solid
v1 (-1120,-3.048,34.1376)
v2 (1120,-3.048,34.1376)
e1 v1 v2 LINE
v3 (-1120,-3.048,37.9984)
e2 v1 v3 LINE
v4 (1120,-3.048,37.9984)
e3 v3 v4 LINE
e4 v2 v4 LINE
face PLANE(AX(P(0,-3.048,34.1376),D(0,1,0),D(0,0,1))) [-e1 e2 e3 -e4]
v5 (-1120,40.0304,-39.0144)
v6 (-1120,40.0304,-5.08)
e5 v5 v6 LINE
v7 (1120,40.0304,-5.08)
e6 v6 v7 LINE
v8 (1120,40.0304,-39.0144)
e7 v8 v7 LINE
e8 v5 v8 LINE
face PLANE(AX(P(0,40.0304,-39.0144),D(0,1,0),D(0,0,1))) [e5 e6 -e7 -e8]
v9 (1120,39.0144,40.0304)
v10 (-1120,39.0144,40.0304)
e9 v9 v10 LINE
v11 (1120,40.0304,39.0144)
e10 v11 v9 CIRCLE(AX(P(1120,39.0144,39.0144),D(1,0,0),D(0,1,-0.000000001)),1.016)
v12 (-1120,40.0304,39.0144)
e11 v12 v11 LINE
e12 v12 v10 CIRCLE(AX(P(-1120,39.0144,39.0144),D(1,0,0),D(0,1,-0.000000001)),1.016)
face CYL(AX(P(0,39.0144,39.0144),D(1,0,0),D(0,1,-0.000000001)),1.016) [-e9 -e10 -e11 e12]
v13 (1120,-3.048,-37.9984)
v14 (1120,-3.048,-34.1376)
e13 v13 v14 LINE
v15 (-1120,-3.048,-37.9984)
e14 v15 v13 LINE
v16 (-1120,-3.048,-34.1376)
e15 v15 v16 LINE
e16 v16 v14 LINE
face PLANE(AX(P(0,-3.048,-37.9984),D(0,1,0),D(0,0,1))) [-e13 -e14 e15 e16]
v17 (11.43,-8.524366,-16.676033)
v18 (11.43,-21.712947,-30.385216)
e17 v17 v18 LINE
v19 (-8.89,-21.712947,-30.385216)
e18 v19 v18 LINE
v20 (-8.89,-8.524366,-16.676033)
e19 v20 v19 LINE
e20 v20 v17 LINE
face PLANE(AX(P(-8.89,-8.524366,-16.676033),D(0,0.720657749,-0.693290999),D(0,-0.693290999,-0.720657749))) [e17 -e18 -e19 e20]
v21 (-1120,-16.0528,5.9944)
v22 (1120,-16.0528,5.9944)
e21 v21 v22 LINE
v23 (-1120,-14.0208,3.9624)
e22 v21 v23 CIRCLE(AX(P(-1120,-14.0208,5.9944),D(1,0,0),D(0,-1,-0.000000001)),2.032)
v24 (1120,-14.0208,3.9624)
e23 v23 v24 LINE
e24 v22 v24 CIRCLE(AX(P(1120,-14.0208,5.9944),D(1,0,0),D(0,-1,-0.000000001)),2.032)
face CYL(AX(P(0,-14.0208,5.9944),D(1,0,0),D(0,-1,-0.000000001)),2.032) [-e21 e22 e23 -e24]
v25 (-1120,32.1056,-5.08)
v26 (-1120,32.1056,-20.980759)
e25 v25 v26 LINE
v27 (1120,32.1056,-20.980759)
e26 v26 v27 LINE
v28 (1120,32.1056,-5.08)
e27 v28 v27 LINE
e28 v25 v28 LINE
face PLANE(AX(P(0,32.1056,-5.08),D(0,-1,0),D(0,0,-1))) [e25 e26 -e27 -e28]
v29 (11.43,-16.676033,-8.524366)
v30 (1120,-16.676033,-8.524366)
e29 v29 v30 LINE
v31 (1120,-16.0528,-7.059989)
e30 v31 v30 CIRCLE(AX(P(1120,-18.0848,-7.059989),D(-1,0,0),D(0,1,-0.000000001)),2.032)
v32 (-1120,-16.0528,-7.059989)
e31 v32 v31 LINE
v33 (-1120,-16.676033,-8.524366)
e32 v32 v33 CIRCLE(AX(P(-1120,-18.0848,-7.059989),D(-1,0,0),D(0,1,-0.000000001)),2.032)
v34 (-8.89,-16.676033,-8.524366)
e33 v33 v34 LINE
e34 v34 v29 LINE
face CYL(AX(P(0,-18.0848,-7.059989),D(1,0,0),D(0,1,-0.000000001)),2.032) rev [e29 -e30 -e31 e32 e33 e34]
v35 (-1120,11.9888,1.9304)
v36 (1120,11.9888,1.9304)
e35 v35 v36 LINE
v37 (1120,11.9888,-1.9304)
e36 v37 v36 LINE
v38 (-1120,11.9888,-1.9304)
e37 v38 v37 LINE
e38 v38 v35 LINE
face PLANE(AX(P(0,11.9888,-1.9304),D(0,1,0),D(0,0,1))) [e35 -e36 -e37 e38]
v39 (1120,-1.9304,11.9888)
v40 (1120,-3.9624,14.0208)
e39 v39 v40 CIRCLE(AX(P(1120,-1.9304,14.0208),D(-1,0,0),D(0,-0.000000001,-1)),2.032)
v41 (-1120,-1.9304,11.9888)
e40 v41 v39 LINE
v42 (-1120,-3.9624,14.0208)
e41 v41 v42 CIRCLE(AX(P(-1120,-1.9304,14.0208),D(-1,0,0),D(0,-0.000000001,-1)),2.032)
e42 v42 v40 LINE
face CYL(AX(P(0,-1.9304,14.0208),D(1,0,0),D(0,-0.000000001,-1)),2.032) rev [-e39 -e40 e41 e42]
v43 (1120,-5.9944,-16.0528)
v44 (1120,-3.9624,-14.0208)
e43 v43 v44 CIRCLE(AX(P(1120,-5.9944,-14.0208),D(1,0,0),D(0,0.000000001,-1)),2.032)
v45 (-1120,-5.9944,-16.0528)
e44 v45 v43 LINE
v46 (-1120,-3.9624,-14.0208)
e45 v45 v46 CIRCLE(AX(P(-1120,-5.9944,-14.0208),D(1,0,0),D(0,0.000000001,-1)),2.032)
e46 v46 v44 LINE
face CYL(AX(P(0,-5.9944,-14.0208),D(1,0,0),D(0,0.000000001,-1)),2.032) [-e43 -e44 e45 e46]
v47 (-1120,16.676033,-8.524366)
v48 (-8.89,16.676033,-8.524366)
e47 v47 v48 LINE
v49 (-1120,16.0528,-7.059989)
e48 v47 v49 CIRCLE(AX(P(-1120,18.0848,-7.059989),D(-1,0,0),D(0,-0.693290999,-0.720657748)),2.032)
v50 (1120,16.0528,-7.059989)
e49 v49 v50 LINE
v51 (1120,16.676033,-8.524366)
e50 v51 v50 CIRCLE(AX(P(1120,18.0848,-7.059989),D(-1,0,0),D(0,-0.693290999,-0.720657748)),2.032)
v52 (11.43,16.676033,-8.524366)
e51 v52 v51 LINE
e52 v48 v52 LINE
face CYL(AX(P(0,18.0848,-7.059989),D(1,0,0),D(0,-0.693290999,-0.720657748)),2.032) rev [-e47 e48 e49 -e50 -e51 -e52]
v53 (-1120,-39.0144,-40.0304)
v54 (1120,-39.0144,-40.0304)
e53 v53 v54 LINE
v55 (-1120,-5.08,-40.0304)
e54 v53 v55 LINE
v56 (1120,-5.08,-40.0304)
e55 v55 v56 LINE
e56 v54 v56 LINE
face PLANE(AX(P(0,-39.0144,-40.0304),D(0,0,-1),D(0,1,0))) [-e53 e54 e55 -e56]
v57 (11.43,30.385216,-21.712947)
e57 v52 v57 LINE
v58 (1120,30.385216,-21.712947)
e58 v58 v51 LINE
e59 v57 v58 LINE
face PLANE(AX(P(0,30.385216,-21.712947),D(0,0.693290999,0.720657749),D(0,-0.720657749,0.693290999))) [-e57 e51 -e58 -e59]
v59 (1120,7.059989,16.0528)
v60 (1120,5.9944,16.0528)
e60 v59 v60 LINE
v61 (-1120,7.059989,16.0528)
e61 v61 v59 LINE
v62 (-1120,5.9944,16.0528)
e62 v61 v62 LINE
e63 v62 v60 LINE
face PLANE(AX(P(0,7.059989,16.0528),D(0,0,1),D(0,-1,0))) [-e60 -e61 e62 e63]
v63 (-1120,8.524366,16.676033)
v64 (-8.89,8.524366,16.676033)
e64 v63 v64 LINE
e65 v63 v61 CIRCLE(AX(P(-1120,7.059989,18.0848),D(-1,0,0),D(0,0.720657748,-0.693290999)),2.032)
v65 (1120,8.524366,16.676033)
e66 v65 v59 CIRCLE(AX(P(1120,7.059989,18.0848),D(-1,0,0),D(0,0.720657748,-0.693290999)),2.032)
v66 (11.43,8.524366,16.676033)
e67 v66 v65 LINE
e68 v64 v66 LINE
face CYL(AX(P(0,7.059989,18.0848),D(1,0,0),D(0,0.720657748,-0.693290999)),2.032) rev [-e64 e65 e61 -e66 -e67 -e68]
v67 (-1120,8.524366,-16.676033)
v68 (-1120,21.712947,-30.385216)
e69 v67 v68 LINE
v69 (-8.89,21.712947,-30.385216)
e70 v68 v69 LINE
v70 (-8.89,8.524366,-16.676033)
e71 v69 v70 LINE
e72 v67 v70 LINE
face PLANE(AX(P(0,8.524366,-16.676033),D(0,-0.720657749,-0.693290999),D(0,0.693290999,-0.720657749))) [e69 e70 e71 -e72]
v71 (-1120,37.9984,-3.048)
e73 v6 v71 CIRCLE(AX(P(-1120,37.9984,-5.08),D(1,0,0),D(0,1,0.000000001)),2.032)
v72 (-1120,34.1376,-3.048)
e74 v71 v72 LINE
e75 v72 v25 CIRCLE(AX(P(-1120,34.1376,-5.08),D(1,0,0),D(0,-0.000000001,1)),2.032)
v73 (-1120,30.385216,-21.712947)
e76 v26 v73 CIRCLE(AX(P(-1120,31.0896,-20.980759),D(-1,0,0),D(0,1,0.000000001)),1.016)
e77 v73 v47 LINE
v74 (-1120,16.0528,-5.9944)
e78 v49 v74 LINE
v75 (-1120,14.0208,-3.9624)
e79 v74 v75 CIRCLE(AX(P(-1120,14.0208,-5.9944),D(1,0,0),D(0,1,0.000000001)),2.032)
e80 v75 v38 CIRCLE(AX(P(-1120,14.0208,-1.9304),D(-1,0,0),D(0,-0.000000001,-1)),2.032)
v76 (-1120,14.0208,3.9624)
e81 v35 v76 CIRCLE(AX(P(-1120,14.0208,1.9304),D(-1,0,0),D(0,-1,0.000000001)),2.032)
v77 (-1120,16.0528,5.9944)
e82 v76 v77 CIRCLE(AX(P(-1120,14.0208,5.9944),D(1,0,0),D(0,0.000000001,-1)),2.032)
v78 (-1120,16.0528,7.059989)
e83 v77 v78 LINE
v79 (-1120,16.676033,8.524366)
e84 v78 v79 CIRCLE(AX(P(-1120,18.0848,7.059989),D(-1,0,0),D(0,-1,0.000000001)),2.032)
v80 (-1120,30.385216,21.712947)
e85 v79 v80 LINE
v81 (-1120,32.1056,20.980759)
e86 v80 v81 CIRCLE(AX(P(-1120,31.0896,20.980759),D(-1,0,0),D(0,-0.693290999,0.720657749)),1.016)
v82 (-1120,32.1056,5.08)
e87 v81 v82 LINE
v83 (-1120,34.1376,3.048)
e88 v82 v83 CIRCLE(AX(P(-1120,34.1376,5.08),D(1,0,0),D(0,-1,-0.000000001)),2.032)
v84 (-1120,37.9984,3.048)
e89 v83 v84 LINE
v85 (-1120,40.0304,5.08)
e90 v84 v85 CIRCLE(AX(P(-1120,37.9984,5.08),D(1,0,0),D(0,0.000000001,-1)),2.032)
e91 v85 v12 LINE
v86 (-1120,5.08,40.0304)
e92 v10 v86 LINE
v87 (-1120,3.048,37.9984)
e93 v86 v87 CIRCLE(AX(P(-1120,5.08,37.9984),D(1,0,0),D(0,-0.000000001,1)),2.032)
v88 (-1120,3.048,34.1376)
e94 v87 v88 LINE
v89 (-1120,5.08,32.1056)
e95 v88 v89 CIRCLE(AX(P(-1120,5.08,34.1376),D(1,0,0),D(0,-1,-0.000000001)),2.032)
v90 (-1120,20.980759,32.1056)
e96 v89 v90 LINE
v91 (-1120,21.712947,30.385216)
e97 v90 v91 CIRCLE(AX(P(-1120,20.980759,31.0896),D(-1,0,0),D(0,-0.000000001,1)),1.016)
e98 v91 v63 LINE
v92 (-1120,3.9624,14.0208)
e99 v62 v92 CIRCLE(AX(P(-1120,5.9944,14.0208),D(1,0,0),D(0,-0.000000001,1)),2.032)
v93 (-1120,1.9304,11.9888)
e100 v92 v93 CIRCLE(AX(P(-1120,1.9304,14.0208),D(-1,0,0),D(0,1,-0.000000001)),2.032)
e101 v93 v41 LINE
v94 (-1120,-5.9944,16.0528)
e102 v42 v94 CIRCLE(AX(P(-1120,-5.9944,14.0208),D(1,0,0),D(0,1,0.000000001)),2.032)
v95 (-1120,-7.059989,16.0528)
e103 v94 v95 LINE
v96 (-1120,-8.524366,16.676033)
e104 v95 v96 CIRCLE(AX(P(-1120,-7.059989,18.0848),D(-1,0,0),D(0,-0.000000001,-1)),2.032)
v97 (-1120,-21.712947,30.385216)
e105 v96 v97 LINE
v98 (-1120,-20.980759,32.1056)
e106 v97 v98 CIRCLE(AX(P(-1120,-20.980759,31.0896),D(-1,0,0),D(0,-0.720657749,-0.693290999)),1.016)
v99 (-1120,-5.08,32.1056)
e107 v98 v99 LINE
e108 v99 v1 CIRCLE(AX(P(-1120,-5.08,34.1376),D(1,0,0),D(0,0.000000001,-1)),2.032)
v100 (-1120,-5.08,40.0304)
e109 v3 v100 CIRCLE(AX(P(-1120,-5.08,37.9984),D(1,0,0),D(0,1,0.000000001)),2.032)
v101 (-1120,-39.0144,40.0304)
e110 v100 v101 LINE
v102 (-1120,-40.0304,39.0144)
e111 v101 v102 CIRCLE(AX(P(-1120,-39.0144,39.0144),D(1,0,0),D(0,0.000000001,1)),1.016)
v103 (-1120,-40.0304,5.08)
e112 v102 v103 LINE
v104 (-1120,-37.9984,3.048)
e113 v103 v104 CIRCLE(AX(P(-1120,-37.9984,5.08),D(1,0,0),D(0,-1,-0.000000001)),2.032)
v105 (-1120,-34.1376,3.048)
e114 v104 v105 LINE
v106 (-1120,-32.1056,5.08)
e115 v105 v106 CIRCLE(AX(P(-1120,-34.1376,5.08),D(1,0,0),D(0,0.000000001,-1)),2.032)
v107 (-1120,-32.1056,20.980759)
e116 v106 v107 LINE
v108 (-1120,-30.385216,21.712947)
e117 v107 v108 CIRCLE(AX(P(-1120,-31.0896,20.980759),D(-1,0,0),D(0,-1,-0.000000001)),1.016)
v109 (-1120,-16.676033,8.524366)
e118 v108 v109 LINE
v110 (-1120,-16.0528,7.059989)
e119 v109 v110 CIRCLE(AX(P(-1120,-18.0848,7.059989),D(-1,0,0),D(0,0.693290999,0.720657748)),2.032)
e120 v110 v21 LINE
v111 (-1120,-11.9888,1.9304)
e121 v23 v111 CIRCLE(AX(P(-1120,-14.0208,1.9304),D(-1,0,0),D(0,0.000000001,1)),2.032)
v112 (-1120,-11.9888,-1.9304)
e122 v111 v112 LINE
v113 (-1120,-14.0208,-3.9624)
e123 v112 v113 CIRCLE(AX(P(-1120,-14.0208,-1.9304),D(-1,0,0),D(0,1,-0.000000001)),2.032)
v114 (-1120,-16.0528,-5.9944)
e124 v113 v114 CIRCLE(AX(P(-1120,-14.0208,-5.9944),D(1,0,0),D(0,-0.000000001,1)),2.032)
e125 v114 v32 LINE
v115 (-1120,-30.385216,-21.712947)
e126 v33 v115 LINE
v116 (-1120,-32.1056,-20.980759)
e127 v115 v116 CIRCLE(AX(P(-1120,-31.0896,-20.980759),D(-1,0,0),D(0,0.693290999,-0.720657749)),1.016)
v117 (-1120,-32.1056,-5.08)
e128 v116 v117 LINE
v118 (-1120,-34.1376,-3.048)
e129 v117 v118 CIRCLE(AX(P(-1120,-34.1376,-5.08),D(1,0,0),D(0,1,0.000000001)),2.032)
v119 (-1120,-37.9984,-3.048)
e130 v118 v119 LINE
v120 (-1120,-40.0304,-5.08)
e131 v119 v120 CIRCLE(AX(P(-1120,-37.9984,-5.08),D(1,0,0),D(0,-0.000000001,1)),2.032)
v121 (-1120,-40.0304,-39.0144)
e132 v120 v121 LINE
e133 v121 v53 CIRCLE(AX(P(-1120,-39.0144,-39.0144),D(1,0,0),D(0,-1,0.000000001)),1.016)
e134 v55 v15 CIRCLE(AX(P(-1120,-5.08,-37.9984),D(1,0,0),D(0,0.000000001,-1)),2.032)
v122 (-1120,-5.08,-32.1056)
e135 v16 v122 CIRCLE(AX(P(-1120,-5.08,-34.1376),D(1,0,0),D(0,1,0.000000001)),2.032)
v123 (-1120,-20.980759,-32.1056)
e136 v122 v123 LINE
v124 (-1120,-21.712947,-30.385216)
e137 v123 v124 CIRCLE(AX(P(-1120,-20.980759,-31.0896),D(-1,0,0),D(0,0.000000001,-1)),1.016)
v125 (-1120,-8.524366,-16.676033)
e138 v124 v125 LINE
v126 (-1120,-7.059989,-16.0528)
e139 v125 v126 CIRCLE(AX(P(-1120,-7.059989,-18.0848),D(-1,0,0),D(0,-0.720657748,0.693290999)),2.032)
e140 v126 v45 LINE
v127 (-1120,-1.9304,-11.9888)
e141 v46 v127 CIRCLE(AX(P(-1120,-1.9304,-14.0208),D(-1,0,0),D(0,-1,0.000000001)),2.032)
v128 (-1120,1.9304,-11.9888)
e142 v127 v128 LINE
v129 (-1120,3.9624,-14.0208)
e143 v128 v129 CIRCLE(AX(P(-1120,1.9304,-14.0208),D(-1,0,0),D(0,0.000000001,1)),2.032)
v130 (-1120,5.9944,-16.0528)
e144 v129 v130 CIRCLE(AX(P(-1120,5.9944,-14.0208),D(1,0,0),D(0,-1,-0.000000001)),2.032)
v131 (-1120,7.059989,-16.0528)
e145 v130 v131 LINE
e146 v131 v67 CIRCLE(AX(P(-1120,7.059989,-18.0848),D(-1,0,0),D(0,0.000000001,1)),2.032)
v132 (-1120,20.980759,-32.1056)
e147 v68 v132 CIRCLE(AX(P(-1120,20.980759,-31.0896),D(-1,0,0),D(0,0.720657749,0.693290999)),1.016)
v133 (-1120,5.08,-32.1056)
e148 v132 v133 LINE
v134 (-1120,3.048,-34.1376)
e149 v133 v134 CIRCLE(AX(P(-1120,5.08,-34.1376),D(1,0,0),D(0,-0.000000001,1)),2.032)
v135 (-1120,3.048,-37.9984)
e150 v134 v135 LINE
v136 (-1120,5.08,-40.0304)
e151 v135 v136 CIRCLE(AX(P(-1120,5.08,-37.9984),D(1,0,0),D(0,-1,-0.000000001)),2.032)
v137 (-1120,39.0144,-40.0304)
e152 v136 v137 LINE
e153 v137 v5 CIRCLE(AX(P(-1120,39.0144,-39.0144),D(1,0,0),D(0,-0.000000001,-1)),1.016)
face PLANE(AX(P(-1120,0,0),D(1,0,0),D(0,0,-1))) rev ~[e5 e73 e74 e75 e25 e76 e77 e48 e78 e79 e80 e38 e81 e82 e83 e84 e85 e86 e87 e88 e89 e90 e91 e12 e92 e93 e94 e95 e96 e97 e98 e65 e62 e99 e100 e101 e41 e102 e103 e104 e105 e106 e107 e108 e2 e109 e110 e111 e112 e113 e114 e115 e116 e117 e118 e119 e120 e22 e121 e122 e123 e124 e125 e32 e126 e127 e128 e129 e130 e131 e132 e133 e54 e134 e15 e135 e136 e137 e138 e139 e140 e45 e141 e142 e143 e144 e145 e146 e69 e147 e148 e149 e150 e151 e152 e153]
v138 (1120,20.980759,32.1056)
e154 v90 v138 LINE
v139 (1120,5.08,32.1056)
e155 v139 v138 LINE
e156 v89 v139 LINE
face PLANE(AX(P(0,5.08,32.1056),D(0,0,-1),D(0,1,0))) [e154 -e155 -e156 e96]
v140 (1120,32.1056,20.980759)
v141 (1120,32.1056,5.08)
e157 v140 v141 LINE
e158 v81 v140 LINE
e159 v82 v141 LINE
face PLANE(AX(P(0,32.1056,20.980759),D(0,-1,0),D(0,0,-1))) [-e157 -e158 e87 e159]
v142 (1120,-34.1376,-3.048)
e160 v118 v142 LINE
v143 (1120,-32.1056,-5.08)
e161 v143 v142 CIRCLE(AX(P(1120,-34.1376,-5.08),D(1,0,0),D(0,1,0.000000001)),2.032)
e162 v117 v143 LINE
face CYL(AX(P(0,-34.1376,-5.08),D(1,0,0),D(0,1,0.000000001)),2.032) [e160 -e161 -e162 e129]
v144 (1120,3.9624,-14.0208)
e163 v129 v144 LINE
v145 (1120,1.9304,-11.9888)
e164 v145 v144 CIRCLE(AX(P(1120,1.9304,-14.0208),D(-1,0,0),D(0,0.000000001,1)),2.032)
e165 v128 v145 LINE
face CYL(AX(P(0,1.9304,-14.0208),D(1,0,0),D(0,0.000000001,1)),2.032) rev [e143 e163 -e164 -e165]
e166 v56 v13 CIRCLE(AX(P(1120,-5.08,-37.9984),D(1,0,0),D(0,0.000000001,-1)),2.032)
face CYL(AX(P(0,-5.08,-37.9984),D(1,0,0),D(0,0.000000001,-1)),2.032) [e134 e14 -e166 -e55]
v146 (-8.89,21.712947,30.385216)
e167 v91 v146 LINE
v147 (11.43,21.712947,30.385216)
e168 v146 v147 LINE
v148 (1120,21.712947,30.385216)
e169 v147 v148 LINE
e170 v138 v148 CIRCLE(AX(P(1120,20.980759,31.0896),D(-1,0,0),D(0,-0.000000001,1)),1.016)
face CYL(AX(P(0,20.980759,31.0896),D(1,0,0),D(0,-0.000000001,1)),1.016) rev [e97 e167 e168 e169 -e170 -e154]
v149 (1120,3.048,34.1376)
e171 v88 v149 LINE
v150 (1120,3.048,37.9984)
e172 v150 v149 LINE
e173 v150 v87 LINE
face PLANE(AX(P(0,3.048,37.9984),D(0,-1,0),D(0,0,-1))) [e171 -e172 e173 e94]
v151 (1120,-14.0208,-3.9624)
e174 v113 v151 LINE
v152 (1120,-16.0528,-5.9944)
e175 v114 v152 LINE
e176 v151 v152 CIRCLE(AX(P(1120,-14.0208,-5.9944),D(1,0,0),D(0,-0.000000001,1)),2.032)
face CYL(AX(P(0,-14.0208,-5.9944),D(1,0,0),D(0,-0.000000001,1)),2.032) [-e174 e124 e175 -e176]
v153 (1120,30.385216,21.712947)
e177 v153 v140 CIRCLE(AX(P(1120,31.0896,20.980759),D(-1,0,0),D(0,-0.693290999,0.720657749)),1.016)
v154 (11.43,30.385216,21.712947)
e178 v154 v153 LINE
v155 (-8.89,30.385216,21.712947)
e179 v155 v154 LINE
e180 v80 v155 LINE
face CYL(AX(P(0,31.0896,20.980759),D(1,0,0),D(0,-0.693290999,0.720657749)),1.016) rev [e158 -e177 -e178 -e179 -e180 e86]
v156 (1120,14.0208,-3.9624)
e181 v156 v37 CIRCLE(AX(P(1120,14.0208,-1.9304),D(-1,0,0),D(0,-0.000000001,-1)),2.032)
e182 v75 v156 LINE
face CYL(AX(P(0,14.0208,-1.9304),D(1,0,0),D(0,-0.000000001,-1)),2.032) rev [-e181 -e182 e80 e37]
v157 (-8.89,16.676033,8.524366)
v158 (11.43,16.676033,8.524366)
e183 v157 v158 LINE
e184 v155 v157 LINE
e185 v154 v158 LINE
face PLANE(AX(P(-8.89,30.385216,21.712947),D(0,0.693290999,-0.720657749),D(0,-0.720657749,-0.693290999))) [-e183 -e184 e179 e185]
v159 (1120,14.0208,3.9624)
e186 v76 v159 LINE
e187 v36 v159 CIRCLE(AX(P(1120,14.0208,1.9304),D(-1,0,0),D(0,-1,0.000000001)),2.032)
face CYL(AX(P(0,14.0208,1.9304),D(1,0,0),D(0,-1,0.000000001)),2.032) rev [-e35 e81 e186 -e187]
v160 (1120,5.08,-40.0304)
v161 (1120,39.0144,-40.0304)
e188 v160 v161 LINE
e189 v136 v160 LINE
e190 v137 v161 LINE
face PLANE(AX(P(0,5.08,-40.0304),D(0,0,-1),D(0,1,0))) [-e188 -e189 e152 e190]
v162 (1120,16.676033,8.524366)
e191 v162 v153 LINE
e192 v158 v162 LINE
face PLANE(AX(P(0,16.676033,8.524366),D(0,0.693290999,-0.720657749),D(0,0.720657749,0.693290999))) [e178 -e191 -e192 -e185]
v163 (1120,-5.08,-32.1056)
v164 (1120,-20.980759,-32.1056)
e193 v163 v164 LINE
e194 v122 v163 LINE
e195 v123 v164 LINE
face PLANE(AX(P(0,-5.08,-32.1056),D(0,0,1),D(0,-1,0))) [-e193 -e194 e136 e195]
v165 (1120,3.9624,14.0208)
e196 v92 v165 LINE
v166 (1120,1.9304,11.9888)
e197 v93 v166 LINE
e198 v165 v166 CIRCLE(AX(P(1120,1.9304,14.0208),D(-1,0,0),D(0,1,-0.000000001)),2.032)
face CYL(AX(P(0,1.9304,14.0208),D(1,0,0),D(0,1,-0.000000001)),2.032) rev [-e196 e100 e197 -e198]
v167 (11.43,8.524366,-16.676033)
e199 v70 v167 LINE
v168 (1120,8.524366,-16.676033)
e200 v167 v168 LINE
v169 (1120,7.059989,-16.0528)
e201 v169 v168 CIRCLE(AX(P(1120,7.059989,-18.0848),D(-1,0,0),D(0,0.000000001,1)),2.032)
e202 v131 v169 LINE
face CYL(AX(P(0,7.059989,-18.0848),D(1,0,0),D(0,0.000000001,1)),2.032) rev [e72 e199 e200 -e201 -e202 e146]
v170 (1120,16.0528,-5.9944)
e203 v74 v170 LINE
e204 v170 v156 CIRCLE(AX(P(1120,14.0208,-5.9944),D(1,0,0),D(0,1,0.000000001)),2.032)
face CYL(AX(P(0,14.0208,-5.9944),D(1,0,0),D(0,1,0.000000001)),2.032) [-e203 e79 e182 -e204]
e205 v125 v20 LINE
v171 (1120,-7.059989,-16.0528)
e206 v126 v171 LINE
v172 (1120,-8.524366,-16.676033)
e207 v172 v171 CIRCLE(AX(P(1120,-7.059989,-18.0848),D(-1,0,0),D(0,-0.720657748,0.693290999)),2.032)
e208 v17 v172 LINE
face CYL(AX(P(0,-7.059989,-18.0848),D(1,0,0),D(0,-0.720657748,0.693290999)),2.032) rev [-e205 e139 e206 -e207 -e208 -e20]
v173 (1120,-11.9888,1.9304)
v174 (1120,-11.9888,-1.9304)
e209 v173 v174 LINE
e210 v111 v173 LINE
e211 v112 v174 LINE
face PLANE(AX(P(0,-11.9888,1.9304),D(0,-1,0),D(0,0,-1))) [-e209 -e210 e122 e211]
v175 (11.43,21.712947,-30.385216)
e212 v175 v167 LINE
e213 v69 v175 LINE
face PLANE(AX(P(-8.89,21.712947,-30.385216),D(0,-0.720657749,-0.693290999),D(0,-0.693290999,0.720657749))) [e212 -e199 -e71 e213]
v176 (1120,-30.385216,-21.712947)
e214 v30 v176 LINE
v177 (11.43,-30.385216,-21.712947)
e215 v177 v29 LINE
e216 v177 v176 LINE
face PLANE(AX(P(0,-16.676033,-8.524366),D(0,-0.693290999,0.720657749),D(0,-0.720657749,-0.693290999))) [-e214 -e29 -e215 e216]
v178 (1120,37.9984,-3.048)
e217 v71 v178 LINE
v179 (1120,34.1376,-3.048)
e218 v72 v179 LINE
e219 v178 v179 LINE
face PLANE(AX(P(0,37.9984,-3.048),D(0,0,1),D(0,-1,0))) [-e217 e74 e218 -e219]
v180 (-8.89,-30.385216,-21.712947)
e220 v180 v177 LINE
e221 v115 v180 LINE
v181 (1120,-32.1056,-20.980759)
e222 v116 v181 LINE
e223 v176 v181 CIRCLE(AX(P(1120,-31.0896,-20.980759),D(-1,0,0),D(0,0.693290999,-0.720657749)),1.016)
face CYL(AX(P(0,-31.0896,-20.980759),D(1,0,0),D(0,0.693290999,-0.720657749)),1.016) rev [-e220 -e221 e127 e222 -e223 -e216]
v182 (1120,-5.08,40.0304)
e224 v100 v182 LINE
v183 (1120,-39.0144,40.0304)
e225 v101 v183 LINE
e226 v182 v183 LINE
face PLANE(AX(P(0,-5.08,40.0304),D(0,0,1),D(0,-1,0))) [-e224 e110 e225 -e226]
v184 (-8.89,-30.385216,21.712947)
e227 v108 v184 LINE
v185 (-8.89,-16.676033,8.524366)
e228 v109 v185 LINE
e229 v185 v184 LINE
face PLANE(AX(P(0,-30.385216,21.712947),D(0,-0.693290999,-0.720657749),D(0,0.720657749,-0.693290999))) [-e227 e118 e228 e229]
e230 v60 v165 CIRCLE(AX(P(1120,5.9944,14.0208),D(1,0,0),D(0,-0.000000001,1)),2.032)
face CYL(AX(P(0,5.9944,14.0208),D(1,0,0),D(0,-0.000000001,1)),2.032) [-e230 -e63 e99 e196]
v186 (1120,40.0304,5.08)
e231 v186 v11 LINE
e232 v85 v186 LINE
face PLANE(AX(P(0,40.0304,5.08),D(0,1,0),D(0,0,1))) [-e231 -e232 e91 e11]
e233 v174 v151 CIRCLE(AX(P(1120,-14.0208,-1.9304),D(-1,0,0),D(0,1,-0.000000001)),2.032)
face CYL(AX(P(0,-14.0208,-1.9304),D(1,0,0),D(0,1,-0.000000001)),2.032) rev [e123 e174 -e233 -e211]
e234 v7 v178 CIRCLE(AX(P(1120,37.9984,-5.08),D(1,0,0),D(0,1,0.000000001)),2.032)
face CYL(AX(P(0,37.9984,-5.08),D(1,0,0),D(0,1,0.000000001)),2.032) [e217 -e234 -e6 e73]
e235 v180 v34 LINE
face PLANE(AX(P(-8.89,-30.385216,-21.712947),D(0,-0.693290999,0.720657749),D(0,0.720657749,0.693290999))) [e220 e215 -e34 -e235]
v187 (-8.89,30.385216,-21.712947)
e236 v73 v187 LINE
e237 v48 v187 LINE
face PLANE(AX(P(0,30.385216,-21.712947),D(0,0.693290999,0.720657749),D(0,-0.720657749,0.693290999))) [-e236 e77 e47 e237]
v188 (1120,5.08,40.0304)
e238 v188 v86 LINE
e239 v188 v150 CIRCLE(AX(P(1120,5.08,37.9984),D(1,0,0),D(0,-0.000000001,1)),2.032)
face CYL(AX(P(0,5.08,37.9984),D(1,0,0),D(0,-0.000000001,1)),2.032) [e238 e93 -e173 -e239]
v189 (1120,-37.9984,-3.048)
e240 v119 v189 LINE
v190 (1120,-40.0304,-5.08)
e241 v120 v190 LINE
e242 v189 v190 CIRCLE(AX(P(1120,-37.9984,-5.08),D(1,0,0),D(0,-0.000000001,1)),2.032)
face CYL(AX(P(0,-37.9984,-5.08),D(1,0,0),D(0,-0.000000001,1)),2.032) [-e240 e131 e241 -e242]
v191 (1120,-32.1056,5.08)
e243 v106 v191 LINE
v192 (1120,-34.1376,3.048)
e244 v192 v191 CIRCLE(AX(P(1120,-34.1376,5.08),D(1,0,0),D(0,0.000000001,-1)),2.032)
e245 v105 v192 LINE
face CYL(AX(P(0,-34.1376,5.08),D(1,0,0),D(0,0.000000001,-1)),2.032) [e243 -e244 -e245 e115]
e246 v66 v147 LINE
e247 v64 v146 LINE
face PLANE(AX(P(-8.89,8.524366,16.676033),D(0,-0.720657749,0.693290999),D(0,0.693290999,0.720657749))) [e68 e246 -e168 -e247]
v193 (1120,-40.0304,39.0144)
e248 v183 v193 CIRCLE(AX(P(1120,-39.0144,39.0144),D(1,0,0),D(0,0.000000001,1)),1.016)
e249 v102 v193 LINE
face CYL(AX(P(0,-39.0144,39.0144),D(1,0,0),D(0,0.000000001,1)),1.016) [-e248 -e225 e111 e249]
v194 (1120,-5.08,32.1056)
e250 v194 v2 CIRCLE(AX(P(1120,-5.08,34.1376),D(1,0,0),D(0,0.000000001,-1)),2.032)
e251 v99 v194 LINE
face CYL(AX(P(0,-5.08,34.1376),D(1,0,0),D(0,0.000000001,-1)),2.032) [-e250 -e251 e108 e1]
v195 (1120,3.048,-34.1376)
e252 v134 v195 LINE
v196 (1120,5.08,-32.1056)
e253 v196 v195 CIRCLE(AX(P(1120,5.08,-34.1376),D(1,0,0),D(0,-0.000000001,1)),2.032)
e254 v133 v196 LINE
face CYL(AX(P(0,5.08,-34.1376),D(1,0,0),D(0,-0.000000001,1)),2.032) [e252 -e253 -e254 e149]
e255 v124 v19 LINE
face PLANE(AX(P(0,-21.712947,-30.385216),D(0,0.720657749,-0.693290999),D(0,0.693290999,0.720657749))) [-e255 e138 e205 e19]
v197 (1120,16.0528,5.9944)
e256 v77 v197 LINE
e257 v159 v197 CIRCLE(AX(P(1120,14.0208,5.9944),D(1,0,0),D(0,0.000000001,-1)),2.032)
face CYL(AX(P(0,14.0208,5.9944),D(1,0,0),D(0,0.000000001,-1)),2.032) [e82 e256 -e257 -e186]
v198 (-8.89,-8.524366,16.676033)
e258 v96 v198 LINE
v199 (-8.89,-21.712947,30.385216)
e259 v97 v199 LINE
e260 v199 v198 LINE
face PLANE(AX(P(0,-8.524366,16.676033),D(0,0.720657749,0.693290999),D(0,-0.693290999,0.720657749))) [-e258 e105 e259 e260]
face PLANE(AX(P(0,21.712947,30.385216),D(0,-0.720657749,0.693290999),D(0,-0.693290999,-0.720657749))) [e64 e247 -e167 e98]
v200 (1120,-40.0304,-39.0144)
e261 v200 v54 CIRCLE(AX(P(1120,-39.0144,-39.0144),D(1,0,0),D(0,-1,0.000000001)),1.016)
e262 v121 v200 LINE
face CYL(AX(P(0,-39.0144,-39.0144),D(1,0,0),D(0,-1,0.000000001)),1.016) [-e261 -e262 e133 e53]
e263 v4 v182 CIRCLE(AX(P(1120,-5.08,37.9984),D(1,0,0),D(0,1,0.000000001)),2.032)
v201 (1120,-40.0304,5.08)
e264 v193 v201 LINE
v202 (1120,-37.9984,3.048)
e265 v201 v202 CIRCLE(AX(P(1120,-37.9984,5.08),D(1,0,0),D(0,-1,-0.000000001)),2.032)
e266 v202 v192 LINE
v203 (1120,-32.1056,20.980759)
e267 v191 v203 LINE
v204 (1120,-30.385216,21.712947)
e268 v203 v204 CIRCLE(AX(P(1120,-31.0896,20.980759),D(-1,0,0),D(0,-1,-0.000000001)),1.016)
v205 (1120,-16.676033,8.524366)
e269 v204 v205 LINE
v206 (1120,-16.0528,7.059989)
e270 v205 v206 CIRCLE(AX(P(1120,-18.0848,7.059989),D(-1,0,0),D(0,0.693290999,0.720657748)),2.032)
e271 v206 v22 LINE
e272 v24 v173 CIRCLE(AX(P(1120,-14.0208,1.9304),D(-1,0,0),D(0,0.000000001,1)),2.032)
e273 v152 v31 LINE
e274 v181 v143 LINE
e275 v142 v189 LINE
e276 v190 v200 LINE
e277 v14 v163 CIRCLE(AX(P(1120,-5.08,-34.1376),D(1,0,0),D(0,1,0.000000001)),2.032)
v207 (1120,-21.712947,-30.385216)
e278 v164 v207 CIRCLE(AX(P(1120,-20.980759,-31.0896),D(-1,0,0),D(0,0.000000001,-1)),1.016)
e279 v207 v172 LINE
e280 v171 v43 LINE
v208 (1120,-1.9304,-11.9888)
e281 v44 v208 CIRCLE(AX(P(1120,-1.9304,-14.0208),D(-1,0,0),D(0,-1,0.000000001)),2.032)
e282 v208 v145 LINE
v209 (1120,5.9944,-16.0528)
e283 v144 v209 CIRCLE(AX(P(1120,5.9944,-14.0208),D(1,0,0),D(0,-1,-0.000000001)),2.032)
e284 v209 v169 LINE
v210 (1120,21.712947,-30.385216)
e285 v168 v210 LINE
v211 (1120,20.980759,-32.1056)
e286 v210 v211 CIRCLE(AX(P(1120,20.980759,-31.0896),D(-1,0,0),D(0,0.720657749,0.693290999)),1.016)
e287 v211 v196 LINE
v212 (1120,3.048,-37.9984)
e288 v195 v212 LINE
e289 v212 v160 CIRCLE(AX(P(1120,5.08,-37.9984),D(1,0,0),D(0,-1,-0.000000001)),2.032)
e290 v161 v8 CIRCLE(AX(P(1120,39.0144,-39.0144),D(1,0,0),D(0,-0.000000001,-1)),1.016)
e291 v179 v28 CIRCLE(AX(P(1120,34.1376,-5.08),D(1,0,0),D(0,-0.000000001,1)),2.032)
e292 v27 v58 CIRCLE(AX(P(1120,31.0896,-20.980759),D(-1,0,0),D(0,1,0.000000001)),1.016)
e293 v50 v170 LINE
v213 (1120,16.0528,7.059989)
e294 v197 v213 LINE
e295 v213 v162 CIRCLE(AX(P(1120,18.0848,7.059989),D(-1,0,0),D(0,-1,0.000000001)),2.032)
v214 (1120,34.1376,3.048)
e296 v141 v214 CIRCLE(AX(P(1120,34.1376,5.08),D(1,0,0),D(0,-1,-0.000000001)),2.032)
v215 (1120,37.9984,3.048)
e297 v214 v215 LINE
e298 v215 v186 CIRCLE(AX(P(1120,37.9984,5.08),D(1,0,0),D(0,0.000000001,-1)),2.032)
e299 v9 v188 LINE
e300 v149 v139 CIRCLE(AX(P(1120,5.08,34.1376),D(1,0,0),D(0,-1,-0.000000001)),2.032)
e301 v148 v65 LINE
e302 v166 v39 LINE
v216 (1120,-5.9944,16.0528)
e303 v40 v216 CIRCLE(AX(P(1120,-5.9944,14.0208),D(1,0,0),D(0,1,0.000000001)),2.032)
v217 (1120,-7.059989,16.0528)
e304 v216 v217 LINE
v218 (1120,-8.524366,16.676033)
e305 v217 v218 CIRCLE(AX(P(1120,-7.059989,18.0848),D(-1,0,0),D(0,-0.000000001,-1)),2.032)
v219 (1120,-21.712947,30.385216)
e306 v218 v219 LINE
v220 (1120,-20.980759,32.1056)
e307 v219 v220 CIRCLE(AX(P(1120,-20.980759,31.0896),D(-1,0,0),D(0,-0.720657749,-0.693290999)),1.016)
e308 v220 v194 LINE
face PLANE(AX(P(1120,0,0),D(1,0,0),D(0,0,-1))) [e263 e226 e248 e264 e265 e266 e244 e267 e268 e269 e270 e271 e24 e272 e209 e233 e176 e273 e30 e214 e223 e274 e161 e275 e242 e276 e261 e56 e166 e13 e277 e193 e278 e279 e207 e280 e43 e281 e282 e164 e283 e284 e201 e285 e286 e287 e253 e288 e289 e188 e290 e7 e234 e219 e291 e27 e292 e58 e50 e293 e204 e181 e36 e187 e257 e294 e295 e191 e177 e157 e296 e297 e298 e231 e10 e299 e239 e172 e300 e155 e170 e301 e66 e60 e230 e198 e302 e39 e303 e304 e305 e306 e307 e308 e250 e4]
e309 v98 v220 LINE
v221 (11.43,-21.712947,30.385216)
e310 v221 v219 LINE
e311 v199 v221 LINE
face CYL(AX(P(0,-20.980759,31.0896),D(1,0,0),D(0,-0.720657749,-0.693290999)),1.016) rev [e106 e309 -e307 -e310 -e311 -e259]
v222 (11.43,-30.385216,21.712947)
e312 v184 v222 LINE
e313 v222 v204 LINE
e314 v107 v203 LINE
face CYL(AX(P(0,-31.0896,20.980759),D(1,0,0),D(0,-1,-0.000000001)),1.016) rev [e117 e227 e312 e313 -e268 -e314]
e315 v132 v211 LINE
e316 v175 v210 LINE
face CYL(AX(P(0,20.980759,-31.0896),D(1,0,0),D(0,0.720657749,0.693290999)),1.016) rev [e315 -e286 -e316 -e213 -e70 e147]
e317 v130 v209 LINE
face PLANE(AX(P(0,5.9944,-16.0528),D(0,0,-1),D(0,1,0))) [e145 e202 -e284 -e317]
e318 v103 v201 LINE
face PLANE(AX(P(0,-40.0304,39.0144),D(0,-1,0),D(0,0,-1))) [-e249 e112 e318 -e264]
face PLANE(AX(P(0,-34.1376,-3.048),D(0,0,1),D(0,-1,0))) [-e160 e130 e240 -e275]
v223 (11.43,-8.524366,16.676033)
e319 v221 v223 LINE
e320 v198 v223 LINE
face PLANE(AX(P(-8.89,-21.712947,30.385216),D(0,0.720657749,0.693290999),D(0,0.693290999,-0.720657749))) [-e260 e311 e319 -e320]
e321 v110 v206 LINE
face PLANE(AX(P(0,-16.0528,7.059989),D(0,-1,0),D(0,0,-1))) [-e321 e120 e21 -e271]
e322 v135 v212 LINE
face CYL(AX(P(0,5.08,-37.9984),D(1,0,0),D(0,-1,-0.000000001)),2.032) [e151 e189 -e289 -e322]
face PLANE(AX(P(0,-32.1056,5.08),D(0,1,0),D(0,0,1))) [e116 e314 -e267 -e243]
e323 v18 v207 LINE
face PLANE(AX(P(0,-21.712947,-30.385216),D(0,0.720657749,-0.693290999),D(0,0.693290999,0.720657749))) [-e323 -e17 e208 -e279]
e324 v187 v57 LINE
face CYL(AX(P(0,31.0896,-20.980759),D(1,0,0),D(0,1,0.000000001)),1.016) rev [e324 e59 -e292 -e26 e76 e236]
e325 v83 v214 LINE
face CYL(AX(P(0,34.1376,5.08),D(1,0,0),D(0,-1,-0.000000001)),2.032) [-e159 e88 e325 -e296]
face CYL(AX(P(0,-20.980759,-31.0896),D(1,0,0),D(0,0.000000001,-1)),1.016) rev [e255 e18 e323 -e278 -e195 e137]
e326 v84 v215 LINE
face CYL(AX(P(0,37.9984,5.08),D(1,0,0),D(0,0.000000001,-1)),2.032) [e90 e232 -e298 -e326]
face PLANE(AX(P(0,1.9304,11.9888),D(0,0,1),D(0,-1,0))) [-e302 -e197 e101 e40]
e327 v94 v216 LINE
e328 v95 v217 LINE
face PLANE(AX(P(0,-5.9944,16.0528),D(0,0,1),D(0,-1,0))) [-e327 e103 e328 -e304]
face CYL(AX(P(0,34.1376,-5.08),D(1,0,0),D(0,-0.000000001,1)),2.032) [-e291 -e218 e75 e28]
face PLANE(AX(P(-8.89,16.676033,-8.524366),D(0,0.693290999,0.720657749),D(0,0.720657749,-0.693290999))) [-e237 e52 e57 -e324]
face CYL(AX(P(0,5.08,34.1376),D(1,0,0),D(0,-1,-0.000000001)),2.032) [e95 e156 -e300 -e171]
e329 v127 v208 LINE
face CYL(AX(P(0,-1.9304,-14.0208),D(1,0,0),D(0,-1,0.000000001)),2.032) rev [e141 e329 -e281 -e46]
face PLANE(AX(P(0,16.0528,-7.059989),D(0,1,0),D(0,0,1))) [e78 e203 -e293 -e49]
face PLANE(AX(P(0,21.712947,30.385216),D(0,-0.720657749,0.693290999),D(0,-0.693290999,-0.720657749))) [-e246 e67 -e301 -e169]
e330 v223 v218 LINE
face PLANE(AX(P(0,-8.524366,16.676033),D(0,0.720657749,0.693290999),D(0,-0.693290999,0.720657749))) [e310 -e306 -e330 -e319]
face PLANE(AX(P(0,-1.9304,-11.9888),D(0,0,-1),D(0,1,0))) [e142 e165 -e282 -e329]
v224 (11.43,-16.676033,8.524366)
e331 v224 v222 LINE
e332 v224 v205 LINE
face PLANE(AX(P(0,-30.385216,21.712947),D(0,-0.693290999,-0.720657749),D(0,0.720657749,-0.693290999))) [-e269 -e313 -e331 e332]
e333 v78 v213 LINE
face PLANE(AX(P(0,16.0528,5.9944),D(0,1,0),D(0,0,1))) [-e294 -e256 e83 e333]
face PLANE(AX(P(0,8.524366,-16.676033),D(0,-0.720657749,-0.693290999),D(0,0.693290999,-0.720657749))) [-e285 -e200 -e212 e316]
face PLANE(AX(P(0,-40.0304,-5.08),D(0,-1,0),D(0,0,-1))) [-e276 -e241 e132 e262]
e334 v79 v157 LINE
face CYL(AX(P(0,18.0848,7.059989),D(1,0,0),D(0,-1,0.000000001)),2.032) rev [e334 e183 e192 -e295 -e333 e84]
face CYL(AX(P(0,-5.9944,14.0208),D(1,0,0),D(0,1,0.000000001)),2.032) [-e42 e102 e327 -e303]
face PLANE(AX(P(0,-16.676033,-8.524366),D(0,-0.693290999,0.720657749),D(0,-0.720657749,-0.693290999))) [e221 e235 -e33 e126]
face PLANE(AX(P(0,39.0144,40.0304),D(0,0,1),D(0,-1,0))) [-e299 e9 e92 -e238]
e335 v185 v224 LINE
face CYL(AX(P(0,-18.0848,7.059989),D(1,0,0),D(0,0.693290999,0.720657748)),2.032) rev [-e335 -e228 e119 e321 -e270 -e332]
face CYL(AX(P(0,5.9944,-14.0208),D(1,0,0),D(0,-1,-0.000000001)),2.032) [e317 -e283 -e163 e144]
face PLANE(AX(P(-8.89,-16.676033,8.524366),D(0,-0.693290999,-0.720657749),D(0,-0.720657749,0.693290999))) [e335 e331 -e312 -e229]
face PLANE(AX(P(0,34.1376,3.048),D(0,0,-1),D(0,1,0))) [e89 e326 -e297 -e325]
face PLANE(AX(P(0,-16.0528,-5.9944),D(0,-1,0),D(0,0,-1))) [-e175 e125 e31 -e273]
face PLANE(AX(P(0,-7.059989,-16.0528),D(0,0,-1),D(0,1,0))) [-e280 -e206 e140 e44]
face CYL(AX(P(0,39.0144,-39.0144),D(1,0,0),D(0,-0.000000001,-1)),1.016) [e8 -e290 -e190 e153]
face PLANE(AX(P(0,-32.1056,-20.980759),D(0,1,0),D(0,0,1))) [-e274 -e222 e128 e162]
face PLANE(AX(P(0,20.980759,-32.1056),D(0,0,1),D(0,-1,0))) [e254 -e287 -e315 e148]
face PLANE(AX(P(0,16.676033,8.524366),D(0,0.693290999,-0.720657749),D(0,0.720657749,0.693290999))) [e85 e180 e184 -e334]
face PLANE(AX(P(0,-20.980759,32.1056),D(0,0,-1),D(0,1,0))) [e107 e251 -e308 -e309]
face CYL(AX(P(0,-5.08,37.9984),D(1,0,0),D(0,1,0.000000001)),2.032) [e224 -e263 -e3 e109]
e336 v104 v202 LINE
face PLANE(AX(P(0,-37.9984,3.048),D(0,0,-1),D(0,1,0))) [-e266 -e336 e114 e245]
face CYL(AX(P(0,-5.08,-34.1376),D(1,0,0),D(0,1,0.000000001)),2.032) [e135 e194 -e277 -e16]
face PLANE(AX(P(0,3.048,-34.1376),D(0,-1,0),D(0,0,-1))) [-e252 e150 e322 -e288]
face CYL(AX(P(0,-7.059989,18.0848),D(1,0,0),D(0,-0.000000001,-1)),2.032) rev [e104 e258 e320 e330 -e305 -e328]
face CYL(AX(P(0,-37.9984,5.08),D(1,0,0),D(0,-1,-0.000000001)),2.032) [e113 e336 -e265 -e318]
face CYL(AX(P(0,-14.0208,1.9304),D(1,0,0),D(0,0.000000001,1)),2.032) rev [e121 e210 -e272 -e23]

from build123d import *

# Parameters (mm, degrees)
BOSS_EXTRUDE1_DEPTH = 2.54
SCALE1_SCALE        = 8
BOSS_EXTRUDE2_DEPTH = 1120


with BuildPart() as part:
    # Sketch1 → Boss-Extrude1 (new body)
    with BuildSketch(Plane(origin=(0, 0, 0), x_dir=(0, 0, -1), z_dir=(1, 0, 0))):
        with BuildLine():
            Line((-0.2413, 1.4986), (0.2413, 1.4986))
            ThreePointArc((0.2413, 1.4986), (0.420905122, 1.572994878), (0.4953, 1.7526))
            ThreePointArc((0.4953, 1.7526), (0.569694878, 1.932205122), (0.7493, 2.0066))
            Line((0.7493, 2.0066), (0.882498635, 2.0066))
            ThreePointArc((0.882498635, 2.0066), (0.981966313, 2.026886113), (1.065545703, 2.084504086))
            Line((1.065545703, 2.084504086), (2.714118421, 3.798152043))
            ThreePointArc((2.714118421, 3.798152043), (2.739451831, 3.935933839), (2.622594887, 4.0132))
            Line((2.622594887, 4.0132), (0.635, 4.0132))
            ThreePointArc((0.635, 4.0132), (0.455394878, 4.087594878), (0.381, 4.2672))
            Line((0.381, 4.2672), (0.381, 4.7498))
            ThreePointArc((0.381, 4.7498), (0.455394878, 4.929405122), (0.635, 5.0038))
            Line((0.635, 5.0038), (4.8768, 5.0038))
            ThreePointArc((4.8768, 5.0038), (4.966602561, 4.966602561), (5.0038, 4.8768))
            Line((5.0038, 4.8768), (5.0038, 0.635))
            ThreePointArc((5.0038, 0.635), (4.929405122, 0.455394878), (4.7498, 0.381))
            Line((4.7498, 0.381), (4.2672, 0.381))
            ThreePointArc((4.2672, 0.381), (4.087594878, 0.455394878), (4.0132, 0.635))
            Line((4.0132, 0.635), (4.0132, 2.622594887))
            ThreePointArc((4.0132, 2.622594887), (3.935933839, 2.739451831), (3.798152043, 2.714118421))
            Line((3.798152043, 2.714118421), (2.084504086, 1.065545703))
            ThreePointArc((2.084504086, 1.065545703), (2.026886113, 0.981966313), (2.0066, 0.882498635))
            Line((2.0066, 0.882498635), (2.0066, 0.7493))
            ThreePointArc((2.0066, 0.7493), (1.932205122, 0.569694878), (1.7526, 0.4953))
            ThreePointArc((1.7526, 0.4953), (1.572994878, 0.420905122), (1.4986, 0.2413))
            Line((1.4986, 0.2413), (1.4986, -0.2413))
            ThreePointArc((1.4986, -0.2413), (1.572994878, -0.420905122), (1.7526, -0.4953))
            ThreePointArc((1.7526, -0.4953), (1.932205122, -0.569694878), (2.0066, -0.7493))
            Line((2.0066, -0.7493), (2.0066, -0.882498635))
            ThreePointArc((2.0066, -0.882498635), (2.026886113, -0.981966313), (2.084504086, -1.065545703))
            Line((2.084504086, -1.065545703), (3.798152043, -2.714118421))
            ThreePointArc((3.798152043, -2.714118421), (3.935933839, -2.739451831), (4.0132, -2.622594887))
            Line((4.0132, -2.622594887), (4.0132, -0.635))
            ThreePointArc((4.0132, -0.635), (4.087594878, -0.455394878), (4.2672, -0.381))
            Line((4.2672, -0.381), (4.7498, -0.381))
            ThreePointArc((4.7498, -0.381), (4.929405122, -0.455394878), (5.0038, -0.635))
            Line((5.0038, -0.635), (5.0038, -4.8768))
            ThreePointArc((5.0038, -4.8768), (4.966602561, -4.966602561), (4.8768, -5.0038))
            Line((4.8768, -5.0038), (0.635, -5.0038))
            ThreePointArc((0.635, -5.0038), (0.455394878, -4.929405122), (0.381, -4.7498))
            Line((0.381, -4.7498), (0.381, -4.2672))
            ThreePointArc((0.381, -4.2672), (0.455394878, -4.087594878), (0.635, -4.0132))
            Line((0.635, -4.0132), (2.622594887, -4.0132))
            ThreePointArc((2.622594887, -4.0132), (2.739451831, -3.935933839), (2.714118421, -3.798152043))
            Line((2.714118421, -3.798152043), (1.065545703, -2.084504086))
            ThreePointArc((1.065545703, -2.084504086), (0.981966313, -2.026886113), (0.882498635, -2.0066))
            Line((0.882498635, -2.0066), (0.7493, -2.0066))
            ThreePointArc((0.7493, -2.0066), (0.569694878, -1.932205122), (0.4953, -1.7526))
            ThreePointArc((0.4953, -1.7526), (0.420905122, -1.572994878), (0.2413, -1.4986))
            Line((0.2413, -1.4986), (-0.2413, -1.4986))
            ThreePointArc((-0.2413, -1.4986), (-0.420905122, -1.572994878), (-0.4953, -1.7526))
            ThreePointArc((-0.4953, -1.7526), (-0.569694878, -1.932205122), (-0.7493, -2.0066))
            Line((-0.7493, -2.0066), (-0.882498635, -2.0066))
            ThreePointArc((-0.882498635, -2.0066), (-0.981966313, -2.026886113), (-1.065545703, -2.084504086))
            Line((-1.065545703, -2.084504086), (-2.714118421, -3.798152043))
            ThreePointArc((-2.714118421, -3.798152043), (-2.739451831, -3.935933839), (-2.622594887, -4.0132))
            Line((-2.622594887, -4.0132), (-0.635, -4.0132))
            ThreePointArc((-0.635, -4.0132), (-0.455394878, -4.087594878), (-0.381, -4.2672))
            Line((-0.381, -4.2672), (-0.381, -4.7498))
            ThreePointArc((-0.381, -4.7498), (-0.455394878, -4.929405122), (-0.635, -5.0038))
            Line((-0.635, -5.0038), (-4.8768, -5.0038))
            ThreePointArc((-4.8768, -5.0038), (-4.966602561, -4.966602561), (-5.0038, -4.8768))
            Line((-5.0038, -4.8768), (-5.0038, -0.635))
            ThreePointArc((-5.0038, -0.635), (-4.929405122, -0.455394878), (-4.7498, -0.381))
            Line((-4.7498, -0.381), (-4.2672, -0.381))
            ThreePointArc((-4.2672, -0.381), (-4.087594878, -0.455394878), (-4.0132, -0.635))
            Line((-4.0132, -0.635), (-4.0132, -2.622594887))
            ThreePointArc((-4.0132, -2.622594887), (-3.935933839, -2.739451831), (-3.798152043, -2.714118421))
            Line((-3.798152043, -2.714118421), (-2.084504086, -1.065545703))
            ThreePointArc((-2.084504086, -1.065545703), (-2.026886113, -0.981966313), (-2.0066, -0.882498635))
            Line((-2.0066, -0.882498635), (-2.0066, -0.7493))
            ThreePointArc((-2.0066, -0.7493), (-1.932205122, -0.569694878), (-1.7526, -0.4953))
            ThreePointArc((-1.7526, -0.4953), (-1.572994878, -0.420905122), (-1.4986, -0.2413))
            Line((-1.4986, -0.2413), (-1.4986, 0.2413))
            ThreePointArc((-1.4986, 0.2413), (-1.572994878, 0.420905122), (-1.7526, 0.4953))
            ThreePointArc((-1.7526, 0.4953), (-1.932205122, 0.569694878), (-2.0066, 0.7493))
            Line((-2.0066, 0.7493), (-2.0066, 0.882498635))
            ThreePointArc((-2.0066, 0.882498635), (-2.026886113, 0.981966313), (-2.084504086, 1.065545703))
            Line((-2.084504086, 1.065545703), (-3.798152043, 2.714118421))
            ThreePointArc((-3.798152043, 2.714118421), (-3.935933839, 2.739451831), (-4.0132, 2.622594887))
            Line((-4.0132, 2.622594887), (-4.0132, 0.635))
            ThreePointArc((-4.0132, 0.635), (-4.087594878, 0.455394878), (-4.2672, 0.381))
            Line((-4.2672, 0.381), (-4.7498, 0.381))
            ThreePointArc((-4.7498, 0.381), (-4.929405122, 0.455394878), (-5.0038, 0.635))
            Line((-5.0038, 0.635), (-5.0038, 4.8768))
            ThreePointArc((-5.0038, 4.8768), (-4.966602561, 4.966602561), (-4.8768, 5.0038))
            Line((-4.8768, 5.0038), (-0.635, 5.0038))
            ThreePointArc((-0.635, 5.0038), (-0.455394878, 4.929405122), (-0.381, 4.7498))
            Line((-0.381, 4.7498), (-0.381, 4.2672))
            ThreePointArc((-0.381, 4.2672), (-0.455394878, 4.087594878), (-0.635, 4.0132))
            Line((-0.635, 4.0132), (-2.622594887, 4.0132))
            ThreePointArc((-2.622594887, 4.0132), (-2.739451831, 3.935933839), (-2.714118421, 3.798152043))
            Line((-2.714118421, 3.798152043), (-1.065545703, 2.084504086))
            ThreePointArc((-1.065545703, 2.084504086), (-0.981966313, 2.026886113), (-0.882498635, 2.0066))
            Line((-0.882498635, 2.0066), (-0.7493, 2.0066))
            ThreePointArc((-0.7493, 2.0066), (-0.569694878, 1.932205122), (-0.4953, 1.7526))
            ThreePointArc((-0.4953, 1.7526), (-0.420905122, 1.572994878), (-0.2413, 1.4986))
        make_face()
    extrude(amount=BOSS_EXTRUDE1_DEPTH)


with BuildPart() as part_1:
    # Scale1: scaled about (1.27, 0, 0)
    add(part.part.scale(SCALE1_SCALE).moved(Location((-8.89, 0, 0))))

    # Sketch2 → Boss-Extrude2 (add, symmetric)
    with BuildSketch(Plane(origin=(0, 0, 0), x_dir=(0, 0, -1), z_dir=(1, 0, 0))):
        with BuildLine():
            Line((-37.9984, 3.048), (-34.1376, 3.048))
            ThreePointArc((-34.1376, 3.048), (-32.700759021, 3.643159021), (-32.1056, 5.08))
            Line((-32.1056, 5.08), (-32.1056, 20.980759097))
            ThreePointArc((-32.1056, 20.980759097), (-31.487470712, 21.915614646), (-30.385216345, 21.71294737))
            Line((-30.385216345, 21.71294737), (-16.67603269, 8.524365626))
            ThreePointArc((-16.67603269, 8.524365626), (-16.215088903, 7.855730504), (-16.0528, 7.059989081))
            Line((-16.0528, 7.059989081), (-16.0528, 5.9944))
            ThreePointArc((-16.0528, 5.9944), (-15.457640979, 4.557559021), (-14.0208, 3.9624))
            ThreePointArc((-14.0208, 3.9624), (-12.583959021, 3.367240979), (-11.9888, 1.9304))
            Line((-11.9888, 1.9304), (-11.9888, -1.9304))
            ThreePointArc((-11.9888, -1.9304), (-12.583959021, -3.367240979), (-14.0208, -3.9624))
            ThreePointArc((-14.0208, -3.9624), (-15.457640979, -4.557559021), (-16.0528, -5.9944))
            Line((-16.0528, -5.9944), (-16.0528, -7.059989081))
            ThreePointArc((-16.0528, -7.059989081), (-16.215088903, -7.855730504), (-16.67603269, -8.524365626))
            Line((-16.67603269, -8.524365626), (-30.385216345, -21.71294737))
            ThreePointArc((-30.385216345, -21.71294737), (-31.487470712, -21.915614646), (-32.1056, -20.980759097))
            Line((-32.1056, -20.980759097), (-32.1056, -5.08))
            ThreePointArc((-32.1056, -5.08), (-32.700759021, -3.643159021), (-34.1376, -3.048))
            Line((-34.1376, -3.048), (-37.9984, -3.048))
            ThreePointArc((-37.9984, -3.048), (-39.435240979, -3.643159021), (-40.0304, -5.08))
            Line((-40.0304, -5.08), (-40.0304, -39.0144))
            ThreePointArc((-40.0304, -39.0144), (-39.73282049, -39.73282049), (-39.0144, -40.0304))
            Line((-39.0144, -40.0304), (-5.08, -40.0304))
            ThreePointArc((-5.08, -40.0304), (-3.643159021, -39.435240979), (-3.048, -37.9984))
            Line((-3.048, -37.9984), (-3.048, -34.1376))
            ThreePointArc((-3.048, -34.1376), (-3.643159021, -32.700759021), (-5.08, -32.1056))
            Line((-5.08, -32.1056), (-20.980759097, -32.1056))
            ThreePointArc((-20.980759097, -32.1056), (-21.915614646, -31.487470712), (-21.71294737, -30.385216345))
            Line((-21.71294737, -30.385216345), (-8.524365626, -16.67603269))
            ThreePointArc((-8.524365626, -16.67603269), (-7.855730504, -16.215088903), (-7.059989081, -16.0528))
            Line((-7.059989081, -16.0528), (-5.9944, -16.0528))
            ThreePointArc((-5.9944, -16.0528), (-4.557559021, -15.457640979), (-3.9624, -14.0208))
            ThreePointArc((-3.9624, -14.0208), (-3.367240979, -12.583959021), (-1.9304, -11.9888))
            Line((-1.9304, -11.9888), (1.9304, -11.9888))
            ThreePointArc((1.9304, -11.9888), (3.367240979, -12.583959021), (3.9624, -14.0208))
            ThreePointArc((3.9624, -14.0208), (4.557559021, -15.457640979), (5.9944, -16.0528))
            Line((5.9944, -16.0528), (7.059989081, -16.0528))
            ThreePointArc((7.059989081, -16.0528), (7.855730504, -16.215088903), (8.524365626, -16.67603269))
            Line((8.524365626, -16.67603269), (21.71294737, -30.385216345))
            ThreePointArc((21.71294737, -30.385216345), (21.915614646, -31.487470712), (20.980759097, -32.1056))
            Line((20.980759097, -32.1056), (5.08, -32.1056))
            ThreePointArc((5.08, -32.1056), (3.643159021, -32.700759021), (3.048, -34.1376))
            Line((3.048, -34.1376), (3.048, -37.9984))
            ThreePointArc((3.048, -37.9984), (3.643159021, -39.435240979), (5.08, -40.0304))
            Line((5.08, -40.0304), (39.0144, -40.0304))
            ThreePointArc((39.0144, -40.0304), (39.73282049, -39.73282049), (40.0304, -39.0144))
            Line((40.0304, -39.0144), (40.0304, -5.08))
            ThreePointArc((40.0304, -5.08), (39.435240979, -3.643159021), (37.9984, -3.048))
            Line((37.9984, -3.048), (34.1376, -3.048))
            ThreePointArc((34.1376, -3.048), (32.700759021, -3.643159021), (32.1056, -5.08))
            Line((32.1056, -5.08), (32.1056, -20.980759097))
            ThreePointArc((32.1056, -20.980759097), (31.487470712, -21.915614646), (30.385216345, -21.71294737))
            Line((30.385216345, -21.71294737), (16.67603269, -8.524365626))
            ThreePointArc((16.67603269, -8.524365626), (16.215088903, -7.855730504), (16.0528, -7.059989081))
            Line((16.0528, -7.059989081), (16.0528, -5.9944))
            ThreePointArc((16.0528, -5.9944), (15.457640979, -4.557559021), (14.0208, -3.9624))
            ThreePointArc((14.0208, -3.9624), (12.583959021, -3.367240979), (11.9888, -1.9304))
            Line((11.9888, -1.9304), (11.9888, 1.9304))
            ThreePointArc((11.9888, 1.9304), (12.583959021, 3.367240979), (14.0208, 3.9624))
            ThreePointArc((14.0208, 3.9624), (15.457640979, 4.557559021), (16.0528, 5.9944))
            Line((16.0528, 5.9944), (16.0528, 7.059989081))
            ThreePointArc((16.0528, 7.059989081), (16.215088903, 7.855730504), (16.67603269, 8.524365626))
            Line((16.67603269, 8.524365626), (30.385216345, 21.71294737))
            ThreePointArc((30.385216345, 21.71294737), (31.487470712, 21.915614646), (32.1056, 20.980759097))
            Line((32.1056, 20.980759097), (32.1056, 5.08))
            ThreePointArc((32.1056, 5.08), (32.700759021, 3.643159021), (34.1376, 3.048))
            Line((34.1376, 3.048), (37.9984, 3.048))
            ThreePointArc((37.9984, 3.048), (39.435240979, 3.643159021), (40.0304, 5.08))
            Line((40.0304, 5.08), (40.0304, 39.0144))
            ThreePointArc((40.0304, 39.0144), (39.73282049, 39.73282049), (39.0144, 40.0304))
            Line((39.0144, 40.0304), (5.08, 40.0304))
            ThreePointArc((5.08, 40.0304), (3.643159021, 39.435240979), (3.048, 37.9984))
            Line((3.048, 37.9984), (3.048, 34.1376))
            ThreePointArc((3.048, 34.1376), (3.643159021, 32.700759021), (5.08, 32.1056))
            Line((5.08, 32.1056), (20.980759097, 32.1056))
            ThreePointArc((20.980759097, 32.1056), (21.915614646, 31.487470712), (21.71294737, 30.385216345))
            Line((21.71294737, 30.385216345), (8.524365626, 16.67603269))
            ThreePointArc((8.524365626, 16.67603269), (7.855730504, 16.215088903), (7.059989081, 16.0528))
            Line((7.059989081, 16.0528), (5.9944, 16.0528))
            ThreePointArc((5.9944, 16.0528), (4.557559021, 15.457640979), (3.9624, 14.0208))
            ThreePointArc((3.9624, 14.0208), (3.367240979, 12.583959021), (1.9304, 11.9888))
            Line((1.9304, 11.9888), (-1.9304, 11.9888))
            ThreePointArc((-1.9304, 11.9888), (-3.367240979, 12.583959021), (-3.9624, 14.0208))
            ThreePointArc((-3.9624, 14.0208), (-4.557559021, 15.457640979), (-5.9944, 16.0528))
            Line((-5.9944, 16.0528), (-7.059989081, 16.0528))
            ThreePointArc((-7.059989081, 16.0528), (-7.855730504, 16.215088903), (-8.524365626, 16.67603269))
            Line((-8.524365626, 16.67603269), (-21.71294737, 30.385216345))
            ThreePointArc((-21.71294737, 30.385216345), (-21.915614646, 31.487470712), (-20.980759097, 32.1056))
            Line((-20.980759097, 32.1056), (-5.08, 32.1056))
            ThreePointArc((-5.08, 32.1056), (-3.643159021, 32.700759021), (-3.048, 34.1376))
            Line((-3.048, 34.1376), (-3.048, 37.9984))
            ThreePointArc((-3.048, 37.9984), (-3.643159021, 39.435240979), (-5.08, 40.0304))
            Line((-5.08, 40.0304), (-39.0144, 40.0304))
            ThreePointArc((-39.0144, 40.0304), (-39.73282049, 39.73282049), (-40.0304, 39.0144))
            Line((-40.0304, 39.0144), (-40.0304, 5.08))
            ThreePointArc((-40.0304, 5.08), (-39.435240979, 3.643159021), (-37.9984, 3.048))
        make_face()
    extrude(amount=BOSS_EXTRUDE2_DEPTH, both=True)


solid = part_1.part
